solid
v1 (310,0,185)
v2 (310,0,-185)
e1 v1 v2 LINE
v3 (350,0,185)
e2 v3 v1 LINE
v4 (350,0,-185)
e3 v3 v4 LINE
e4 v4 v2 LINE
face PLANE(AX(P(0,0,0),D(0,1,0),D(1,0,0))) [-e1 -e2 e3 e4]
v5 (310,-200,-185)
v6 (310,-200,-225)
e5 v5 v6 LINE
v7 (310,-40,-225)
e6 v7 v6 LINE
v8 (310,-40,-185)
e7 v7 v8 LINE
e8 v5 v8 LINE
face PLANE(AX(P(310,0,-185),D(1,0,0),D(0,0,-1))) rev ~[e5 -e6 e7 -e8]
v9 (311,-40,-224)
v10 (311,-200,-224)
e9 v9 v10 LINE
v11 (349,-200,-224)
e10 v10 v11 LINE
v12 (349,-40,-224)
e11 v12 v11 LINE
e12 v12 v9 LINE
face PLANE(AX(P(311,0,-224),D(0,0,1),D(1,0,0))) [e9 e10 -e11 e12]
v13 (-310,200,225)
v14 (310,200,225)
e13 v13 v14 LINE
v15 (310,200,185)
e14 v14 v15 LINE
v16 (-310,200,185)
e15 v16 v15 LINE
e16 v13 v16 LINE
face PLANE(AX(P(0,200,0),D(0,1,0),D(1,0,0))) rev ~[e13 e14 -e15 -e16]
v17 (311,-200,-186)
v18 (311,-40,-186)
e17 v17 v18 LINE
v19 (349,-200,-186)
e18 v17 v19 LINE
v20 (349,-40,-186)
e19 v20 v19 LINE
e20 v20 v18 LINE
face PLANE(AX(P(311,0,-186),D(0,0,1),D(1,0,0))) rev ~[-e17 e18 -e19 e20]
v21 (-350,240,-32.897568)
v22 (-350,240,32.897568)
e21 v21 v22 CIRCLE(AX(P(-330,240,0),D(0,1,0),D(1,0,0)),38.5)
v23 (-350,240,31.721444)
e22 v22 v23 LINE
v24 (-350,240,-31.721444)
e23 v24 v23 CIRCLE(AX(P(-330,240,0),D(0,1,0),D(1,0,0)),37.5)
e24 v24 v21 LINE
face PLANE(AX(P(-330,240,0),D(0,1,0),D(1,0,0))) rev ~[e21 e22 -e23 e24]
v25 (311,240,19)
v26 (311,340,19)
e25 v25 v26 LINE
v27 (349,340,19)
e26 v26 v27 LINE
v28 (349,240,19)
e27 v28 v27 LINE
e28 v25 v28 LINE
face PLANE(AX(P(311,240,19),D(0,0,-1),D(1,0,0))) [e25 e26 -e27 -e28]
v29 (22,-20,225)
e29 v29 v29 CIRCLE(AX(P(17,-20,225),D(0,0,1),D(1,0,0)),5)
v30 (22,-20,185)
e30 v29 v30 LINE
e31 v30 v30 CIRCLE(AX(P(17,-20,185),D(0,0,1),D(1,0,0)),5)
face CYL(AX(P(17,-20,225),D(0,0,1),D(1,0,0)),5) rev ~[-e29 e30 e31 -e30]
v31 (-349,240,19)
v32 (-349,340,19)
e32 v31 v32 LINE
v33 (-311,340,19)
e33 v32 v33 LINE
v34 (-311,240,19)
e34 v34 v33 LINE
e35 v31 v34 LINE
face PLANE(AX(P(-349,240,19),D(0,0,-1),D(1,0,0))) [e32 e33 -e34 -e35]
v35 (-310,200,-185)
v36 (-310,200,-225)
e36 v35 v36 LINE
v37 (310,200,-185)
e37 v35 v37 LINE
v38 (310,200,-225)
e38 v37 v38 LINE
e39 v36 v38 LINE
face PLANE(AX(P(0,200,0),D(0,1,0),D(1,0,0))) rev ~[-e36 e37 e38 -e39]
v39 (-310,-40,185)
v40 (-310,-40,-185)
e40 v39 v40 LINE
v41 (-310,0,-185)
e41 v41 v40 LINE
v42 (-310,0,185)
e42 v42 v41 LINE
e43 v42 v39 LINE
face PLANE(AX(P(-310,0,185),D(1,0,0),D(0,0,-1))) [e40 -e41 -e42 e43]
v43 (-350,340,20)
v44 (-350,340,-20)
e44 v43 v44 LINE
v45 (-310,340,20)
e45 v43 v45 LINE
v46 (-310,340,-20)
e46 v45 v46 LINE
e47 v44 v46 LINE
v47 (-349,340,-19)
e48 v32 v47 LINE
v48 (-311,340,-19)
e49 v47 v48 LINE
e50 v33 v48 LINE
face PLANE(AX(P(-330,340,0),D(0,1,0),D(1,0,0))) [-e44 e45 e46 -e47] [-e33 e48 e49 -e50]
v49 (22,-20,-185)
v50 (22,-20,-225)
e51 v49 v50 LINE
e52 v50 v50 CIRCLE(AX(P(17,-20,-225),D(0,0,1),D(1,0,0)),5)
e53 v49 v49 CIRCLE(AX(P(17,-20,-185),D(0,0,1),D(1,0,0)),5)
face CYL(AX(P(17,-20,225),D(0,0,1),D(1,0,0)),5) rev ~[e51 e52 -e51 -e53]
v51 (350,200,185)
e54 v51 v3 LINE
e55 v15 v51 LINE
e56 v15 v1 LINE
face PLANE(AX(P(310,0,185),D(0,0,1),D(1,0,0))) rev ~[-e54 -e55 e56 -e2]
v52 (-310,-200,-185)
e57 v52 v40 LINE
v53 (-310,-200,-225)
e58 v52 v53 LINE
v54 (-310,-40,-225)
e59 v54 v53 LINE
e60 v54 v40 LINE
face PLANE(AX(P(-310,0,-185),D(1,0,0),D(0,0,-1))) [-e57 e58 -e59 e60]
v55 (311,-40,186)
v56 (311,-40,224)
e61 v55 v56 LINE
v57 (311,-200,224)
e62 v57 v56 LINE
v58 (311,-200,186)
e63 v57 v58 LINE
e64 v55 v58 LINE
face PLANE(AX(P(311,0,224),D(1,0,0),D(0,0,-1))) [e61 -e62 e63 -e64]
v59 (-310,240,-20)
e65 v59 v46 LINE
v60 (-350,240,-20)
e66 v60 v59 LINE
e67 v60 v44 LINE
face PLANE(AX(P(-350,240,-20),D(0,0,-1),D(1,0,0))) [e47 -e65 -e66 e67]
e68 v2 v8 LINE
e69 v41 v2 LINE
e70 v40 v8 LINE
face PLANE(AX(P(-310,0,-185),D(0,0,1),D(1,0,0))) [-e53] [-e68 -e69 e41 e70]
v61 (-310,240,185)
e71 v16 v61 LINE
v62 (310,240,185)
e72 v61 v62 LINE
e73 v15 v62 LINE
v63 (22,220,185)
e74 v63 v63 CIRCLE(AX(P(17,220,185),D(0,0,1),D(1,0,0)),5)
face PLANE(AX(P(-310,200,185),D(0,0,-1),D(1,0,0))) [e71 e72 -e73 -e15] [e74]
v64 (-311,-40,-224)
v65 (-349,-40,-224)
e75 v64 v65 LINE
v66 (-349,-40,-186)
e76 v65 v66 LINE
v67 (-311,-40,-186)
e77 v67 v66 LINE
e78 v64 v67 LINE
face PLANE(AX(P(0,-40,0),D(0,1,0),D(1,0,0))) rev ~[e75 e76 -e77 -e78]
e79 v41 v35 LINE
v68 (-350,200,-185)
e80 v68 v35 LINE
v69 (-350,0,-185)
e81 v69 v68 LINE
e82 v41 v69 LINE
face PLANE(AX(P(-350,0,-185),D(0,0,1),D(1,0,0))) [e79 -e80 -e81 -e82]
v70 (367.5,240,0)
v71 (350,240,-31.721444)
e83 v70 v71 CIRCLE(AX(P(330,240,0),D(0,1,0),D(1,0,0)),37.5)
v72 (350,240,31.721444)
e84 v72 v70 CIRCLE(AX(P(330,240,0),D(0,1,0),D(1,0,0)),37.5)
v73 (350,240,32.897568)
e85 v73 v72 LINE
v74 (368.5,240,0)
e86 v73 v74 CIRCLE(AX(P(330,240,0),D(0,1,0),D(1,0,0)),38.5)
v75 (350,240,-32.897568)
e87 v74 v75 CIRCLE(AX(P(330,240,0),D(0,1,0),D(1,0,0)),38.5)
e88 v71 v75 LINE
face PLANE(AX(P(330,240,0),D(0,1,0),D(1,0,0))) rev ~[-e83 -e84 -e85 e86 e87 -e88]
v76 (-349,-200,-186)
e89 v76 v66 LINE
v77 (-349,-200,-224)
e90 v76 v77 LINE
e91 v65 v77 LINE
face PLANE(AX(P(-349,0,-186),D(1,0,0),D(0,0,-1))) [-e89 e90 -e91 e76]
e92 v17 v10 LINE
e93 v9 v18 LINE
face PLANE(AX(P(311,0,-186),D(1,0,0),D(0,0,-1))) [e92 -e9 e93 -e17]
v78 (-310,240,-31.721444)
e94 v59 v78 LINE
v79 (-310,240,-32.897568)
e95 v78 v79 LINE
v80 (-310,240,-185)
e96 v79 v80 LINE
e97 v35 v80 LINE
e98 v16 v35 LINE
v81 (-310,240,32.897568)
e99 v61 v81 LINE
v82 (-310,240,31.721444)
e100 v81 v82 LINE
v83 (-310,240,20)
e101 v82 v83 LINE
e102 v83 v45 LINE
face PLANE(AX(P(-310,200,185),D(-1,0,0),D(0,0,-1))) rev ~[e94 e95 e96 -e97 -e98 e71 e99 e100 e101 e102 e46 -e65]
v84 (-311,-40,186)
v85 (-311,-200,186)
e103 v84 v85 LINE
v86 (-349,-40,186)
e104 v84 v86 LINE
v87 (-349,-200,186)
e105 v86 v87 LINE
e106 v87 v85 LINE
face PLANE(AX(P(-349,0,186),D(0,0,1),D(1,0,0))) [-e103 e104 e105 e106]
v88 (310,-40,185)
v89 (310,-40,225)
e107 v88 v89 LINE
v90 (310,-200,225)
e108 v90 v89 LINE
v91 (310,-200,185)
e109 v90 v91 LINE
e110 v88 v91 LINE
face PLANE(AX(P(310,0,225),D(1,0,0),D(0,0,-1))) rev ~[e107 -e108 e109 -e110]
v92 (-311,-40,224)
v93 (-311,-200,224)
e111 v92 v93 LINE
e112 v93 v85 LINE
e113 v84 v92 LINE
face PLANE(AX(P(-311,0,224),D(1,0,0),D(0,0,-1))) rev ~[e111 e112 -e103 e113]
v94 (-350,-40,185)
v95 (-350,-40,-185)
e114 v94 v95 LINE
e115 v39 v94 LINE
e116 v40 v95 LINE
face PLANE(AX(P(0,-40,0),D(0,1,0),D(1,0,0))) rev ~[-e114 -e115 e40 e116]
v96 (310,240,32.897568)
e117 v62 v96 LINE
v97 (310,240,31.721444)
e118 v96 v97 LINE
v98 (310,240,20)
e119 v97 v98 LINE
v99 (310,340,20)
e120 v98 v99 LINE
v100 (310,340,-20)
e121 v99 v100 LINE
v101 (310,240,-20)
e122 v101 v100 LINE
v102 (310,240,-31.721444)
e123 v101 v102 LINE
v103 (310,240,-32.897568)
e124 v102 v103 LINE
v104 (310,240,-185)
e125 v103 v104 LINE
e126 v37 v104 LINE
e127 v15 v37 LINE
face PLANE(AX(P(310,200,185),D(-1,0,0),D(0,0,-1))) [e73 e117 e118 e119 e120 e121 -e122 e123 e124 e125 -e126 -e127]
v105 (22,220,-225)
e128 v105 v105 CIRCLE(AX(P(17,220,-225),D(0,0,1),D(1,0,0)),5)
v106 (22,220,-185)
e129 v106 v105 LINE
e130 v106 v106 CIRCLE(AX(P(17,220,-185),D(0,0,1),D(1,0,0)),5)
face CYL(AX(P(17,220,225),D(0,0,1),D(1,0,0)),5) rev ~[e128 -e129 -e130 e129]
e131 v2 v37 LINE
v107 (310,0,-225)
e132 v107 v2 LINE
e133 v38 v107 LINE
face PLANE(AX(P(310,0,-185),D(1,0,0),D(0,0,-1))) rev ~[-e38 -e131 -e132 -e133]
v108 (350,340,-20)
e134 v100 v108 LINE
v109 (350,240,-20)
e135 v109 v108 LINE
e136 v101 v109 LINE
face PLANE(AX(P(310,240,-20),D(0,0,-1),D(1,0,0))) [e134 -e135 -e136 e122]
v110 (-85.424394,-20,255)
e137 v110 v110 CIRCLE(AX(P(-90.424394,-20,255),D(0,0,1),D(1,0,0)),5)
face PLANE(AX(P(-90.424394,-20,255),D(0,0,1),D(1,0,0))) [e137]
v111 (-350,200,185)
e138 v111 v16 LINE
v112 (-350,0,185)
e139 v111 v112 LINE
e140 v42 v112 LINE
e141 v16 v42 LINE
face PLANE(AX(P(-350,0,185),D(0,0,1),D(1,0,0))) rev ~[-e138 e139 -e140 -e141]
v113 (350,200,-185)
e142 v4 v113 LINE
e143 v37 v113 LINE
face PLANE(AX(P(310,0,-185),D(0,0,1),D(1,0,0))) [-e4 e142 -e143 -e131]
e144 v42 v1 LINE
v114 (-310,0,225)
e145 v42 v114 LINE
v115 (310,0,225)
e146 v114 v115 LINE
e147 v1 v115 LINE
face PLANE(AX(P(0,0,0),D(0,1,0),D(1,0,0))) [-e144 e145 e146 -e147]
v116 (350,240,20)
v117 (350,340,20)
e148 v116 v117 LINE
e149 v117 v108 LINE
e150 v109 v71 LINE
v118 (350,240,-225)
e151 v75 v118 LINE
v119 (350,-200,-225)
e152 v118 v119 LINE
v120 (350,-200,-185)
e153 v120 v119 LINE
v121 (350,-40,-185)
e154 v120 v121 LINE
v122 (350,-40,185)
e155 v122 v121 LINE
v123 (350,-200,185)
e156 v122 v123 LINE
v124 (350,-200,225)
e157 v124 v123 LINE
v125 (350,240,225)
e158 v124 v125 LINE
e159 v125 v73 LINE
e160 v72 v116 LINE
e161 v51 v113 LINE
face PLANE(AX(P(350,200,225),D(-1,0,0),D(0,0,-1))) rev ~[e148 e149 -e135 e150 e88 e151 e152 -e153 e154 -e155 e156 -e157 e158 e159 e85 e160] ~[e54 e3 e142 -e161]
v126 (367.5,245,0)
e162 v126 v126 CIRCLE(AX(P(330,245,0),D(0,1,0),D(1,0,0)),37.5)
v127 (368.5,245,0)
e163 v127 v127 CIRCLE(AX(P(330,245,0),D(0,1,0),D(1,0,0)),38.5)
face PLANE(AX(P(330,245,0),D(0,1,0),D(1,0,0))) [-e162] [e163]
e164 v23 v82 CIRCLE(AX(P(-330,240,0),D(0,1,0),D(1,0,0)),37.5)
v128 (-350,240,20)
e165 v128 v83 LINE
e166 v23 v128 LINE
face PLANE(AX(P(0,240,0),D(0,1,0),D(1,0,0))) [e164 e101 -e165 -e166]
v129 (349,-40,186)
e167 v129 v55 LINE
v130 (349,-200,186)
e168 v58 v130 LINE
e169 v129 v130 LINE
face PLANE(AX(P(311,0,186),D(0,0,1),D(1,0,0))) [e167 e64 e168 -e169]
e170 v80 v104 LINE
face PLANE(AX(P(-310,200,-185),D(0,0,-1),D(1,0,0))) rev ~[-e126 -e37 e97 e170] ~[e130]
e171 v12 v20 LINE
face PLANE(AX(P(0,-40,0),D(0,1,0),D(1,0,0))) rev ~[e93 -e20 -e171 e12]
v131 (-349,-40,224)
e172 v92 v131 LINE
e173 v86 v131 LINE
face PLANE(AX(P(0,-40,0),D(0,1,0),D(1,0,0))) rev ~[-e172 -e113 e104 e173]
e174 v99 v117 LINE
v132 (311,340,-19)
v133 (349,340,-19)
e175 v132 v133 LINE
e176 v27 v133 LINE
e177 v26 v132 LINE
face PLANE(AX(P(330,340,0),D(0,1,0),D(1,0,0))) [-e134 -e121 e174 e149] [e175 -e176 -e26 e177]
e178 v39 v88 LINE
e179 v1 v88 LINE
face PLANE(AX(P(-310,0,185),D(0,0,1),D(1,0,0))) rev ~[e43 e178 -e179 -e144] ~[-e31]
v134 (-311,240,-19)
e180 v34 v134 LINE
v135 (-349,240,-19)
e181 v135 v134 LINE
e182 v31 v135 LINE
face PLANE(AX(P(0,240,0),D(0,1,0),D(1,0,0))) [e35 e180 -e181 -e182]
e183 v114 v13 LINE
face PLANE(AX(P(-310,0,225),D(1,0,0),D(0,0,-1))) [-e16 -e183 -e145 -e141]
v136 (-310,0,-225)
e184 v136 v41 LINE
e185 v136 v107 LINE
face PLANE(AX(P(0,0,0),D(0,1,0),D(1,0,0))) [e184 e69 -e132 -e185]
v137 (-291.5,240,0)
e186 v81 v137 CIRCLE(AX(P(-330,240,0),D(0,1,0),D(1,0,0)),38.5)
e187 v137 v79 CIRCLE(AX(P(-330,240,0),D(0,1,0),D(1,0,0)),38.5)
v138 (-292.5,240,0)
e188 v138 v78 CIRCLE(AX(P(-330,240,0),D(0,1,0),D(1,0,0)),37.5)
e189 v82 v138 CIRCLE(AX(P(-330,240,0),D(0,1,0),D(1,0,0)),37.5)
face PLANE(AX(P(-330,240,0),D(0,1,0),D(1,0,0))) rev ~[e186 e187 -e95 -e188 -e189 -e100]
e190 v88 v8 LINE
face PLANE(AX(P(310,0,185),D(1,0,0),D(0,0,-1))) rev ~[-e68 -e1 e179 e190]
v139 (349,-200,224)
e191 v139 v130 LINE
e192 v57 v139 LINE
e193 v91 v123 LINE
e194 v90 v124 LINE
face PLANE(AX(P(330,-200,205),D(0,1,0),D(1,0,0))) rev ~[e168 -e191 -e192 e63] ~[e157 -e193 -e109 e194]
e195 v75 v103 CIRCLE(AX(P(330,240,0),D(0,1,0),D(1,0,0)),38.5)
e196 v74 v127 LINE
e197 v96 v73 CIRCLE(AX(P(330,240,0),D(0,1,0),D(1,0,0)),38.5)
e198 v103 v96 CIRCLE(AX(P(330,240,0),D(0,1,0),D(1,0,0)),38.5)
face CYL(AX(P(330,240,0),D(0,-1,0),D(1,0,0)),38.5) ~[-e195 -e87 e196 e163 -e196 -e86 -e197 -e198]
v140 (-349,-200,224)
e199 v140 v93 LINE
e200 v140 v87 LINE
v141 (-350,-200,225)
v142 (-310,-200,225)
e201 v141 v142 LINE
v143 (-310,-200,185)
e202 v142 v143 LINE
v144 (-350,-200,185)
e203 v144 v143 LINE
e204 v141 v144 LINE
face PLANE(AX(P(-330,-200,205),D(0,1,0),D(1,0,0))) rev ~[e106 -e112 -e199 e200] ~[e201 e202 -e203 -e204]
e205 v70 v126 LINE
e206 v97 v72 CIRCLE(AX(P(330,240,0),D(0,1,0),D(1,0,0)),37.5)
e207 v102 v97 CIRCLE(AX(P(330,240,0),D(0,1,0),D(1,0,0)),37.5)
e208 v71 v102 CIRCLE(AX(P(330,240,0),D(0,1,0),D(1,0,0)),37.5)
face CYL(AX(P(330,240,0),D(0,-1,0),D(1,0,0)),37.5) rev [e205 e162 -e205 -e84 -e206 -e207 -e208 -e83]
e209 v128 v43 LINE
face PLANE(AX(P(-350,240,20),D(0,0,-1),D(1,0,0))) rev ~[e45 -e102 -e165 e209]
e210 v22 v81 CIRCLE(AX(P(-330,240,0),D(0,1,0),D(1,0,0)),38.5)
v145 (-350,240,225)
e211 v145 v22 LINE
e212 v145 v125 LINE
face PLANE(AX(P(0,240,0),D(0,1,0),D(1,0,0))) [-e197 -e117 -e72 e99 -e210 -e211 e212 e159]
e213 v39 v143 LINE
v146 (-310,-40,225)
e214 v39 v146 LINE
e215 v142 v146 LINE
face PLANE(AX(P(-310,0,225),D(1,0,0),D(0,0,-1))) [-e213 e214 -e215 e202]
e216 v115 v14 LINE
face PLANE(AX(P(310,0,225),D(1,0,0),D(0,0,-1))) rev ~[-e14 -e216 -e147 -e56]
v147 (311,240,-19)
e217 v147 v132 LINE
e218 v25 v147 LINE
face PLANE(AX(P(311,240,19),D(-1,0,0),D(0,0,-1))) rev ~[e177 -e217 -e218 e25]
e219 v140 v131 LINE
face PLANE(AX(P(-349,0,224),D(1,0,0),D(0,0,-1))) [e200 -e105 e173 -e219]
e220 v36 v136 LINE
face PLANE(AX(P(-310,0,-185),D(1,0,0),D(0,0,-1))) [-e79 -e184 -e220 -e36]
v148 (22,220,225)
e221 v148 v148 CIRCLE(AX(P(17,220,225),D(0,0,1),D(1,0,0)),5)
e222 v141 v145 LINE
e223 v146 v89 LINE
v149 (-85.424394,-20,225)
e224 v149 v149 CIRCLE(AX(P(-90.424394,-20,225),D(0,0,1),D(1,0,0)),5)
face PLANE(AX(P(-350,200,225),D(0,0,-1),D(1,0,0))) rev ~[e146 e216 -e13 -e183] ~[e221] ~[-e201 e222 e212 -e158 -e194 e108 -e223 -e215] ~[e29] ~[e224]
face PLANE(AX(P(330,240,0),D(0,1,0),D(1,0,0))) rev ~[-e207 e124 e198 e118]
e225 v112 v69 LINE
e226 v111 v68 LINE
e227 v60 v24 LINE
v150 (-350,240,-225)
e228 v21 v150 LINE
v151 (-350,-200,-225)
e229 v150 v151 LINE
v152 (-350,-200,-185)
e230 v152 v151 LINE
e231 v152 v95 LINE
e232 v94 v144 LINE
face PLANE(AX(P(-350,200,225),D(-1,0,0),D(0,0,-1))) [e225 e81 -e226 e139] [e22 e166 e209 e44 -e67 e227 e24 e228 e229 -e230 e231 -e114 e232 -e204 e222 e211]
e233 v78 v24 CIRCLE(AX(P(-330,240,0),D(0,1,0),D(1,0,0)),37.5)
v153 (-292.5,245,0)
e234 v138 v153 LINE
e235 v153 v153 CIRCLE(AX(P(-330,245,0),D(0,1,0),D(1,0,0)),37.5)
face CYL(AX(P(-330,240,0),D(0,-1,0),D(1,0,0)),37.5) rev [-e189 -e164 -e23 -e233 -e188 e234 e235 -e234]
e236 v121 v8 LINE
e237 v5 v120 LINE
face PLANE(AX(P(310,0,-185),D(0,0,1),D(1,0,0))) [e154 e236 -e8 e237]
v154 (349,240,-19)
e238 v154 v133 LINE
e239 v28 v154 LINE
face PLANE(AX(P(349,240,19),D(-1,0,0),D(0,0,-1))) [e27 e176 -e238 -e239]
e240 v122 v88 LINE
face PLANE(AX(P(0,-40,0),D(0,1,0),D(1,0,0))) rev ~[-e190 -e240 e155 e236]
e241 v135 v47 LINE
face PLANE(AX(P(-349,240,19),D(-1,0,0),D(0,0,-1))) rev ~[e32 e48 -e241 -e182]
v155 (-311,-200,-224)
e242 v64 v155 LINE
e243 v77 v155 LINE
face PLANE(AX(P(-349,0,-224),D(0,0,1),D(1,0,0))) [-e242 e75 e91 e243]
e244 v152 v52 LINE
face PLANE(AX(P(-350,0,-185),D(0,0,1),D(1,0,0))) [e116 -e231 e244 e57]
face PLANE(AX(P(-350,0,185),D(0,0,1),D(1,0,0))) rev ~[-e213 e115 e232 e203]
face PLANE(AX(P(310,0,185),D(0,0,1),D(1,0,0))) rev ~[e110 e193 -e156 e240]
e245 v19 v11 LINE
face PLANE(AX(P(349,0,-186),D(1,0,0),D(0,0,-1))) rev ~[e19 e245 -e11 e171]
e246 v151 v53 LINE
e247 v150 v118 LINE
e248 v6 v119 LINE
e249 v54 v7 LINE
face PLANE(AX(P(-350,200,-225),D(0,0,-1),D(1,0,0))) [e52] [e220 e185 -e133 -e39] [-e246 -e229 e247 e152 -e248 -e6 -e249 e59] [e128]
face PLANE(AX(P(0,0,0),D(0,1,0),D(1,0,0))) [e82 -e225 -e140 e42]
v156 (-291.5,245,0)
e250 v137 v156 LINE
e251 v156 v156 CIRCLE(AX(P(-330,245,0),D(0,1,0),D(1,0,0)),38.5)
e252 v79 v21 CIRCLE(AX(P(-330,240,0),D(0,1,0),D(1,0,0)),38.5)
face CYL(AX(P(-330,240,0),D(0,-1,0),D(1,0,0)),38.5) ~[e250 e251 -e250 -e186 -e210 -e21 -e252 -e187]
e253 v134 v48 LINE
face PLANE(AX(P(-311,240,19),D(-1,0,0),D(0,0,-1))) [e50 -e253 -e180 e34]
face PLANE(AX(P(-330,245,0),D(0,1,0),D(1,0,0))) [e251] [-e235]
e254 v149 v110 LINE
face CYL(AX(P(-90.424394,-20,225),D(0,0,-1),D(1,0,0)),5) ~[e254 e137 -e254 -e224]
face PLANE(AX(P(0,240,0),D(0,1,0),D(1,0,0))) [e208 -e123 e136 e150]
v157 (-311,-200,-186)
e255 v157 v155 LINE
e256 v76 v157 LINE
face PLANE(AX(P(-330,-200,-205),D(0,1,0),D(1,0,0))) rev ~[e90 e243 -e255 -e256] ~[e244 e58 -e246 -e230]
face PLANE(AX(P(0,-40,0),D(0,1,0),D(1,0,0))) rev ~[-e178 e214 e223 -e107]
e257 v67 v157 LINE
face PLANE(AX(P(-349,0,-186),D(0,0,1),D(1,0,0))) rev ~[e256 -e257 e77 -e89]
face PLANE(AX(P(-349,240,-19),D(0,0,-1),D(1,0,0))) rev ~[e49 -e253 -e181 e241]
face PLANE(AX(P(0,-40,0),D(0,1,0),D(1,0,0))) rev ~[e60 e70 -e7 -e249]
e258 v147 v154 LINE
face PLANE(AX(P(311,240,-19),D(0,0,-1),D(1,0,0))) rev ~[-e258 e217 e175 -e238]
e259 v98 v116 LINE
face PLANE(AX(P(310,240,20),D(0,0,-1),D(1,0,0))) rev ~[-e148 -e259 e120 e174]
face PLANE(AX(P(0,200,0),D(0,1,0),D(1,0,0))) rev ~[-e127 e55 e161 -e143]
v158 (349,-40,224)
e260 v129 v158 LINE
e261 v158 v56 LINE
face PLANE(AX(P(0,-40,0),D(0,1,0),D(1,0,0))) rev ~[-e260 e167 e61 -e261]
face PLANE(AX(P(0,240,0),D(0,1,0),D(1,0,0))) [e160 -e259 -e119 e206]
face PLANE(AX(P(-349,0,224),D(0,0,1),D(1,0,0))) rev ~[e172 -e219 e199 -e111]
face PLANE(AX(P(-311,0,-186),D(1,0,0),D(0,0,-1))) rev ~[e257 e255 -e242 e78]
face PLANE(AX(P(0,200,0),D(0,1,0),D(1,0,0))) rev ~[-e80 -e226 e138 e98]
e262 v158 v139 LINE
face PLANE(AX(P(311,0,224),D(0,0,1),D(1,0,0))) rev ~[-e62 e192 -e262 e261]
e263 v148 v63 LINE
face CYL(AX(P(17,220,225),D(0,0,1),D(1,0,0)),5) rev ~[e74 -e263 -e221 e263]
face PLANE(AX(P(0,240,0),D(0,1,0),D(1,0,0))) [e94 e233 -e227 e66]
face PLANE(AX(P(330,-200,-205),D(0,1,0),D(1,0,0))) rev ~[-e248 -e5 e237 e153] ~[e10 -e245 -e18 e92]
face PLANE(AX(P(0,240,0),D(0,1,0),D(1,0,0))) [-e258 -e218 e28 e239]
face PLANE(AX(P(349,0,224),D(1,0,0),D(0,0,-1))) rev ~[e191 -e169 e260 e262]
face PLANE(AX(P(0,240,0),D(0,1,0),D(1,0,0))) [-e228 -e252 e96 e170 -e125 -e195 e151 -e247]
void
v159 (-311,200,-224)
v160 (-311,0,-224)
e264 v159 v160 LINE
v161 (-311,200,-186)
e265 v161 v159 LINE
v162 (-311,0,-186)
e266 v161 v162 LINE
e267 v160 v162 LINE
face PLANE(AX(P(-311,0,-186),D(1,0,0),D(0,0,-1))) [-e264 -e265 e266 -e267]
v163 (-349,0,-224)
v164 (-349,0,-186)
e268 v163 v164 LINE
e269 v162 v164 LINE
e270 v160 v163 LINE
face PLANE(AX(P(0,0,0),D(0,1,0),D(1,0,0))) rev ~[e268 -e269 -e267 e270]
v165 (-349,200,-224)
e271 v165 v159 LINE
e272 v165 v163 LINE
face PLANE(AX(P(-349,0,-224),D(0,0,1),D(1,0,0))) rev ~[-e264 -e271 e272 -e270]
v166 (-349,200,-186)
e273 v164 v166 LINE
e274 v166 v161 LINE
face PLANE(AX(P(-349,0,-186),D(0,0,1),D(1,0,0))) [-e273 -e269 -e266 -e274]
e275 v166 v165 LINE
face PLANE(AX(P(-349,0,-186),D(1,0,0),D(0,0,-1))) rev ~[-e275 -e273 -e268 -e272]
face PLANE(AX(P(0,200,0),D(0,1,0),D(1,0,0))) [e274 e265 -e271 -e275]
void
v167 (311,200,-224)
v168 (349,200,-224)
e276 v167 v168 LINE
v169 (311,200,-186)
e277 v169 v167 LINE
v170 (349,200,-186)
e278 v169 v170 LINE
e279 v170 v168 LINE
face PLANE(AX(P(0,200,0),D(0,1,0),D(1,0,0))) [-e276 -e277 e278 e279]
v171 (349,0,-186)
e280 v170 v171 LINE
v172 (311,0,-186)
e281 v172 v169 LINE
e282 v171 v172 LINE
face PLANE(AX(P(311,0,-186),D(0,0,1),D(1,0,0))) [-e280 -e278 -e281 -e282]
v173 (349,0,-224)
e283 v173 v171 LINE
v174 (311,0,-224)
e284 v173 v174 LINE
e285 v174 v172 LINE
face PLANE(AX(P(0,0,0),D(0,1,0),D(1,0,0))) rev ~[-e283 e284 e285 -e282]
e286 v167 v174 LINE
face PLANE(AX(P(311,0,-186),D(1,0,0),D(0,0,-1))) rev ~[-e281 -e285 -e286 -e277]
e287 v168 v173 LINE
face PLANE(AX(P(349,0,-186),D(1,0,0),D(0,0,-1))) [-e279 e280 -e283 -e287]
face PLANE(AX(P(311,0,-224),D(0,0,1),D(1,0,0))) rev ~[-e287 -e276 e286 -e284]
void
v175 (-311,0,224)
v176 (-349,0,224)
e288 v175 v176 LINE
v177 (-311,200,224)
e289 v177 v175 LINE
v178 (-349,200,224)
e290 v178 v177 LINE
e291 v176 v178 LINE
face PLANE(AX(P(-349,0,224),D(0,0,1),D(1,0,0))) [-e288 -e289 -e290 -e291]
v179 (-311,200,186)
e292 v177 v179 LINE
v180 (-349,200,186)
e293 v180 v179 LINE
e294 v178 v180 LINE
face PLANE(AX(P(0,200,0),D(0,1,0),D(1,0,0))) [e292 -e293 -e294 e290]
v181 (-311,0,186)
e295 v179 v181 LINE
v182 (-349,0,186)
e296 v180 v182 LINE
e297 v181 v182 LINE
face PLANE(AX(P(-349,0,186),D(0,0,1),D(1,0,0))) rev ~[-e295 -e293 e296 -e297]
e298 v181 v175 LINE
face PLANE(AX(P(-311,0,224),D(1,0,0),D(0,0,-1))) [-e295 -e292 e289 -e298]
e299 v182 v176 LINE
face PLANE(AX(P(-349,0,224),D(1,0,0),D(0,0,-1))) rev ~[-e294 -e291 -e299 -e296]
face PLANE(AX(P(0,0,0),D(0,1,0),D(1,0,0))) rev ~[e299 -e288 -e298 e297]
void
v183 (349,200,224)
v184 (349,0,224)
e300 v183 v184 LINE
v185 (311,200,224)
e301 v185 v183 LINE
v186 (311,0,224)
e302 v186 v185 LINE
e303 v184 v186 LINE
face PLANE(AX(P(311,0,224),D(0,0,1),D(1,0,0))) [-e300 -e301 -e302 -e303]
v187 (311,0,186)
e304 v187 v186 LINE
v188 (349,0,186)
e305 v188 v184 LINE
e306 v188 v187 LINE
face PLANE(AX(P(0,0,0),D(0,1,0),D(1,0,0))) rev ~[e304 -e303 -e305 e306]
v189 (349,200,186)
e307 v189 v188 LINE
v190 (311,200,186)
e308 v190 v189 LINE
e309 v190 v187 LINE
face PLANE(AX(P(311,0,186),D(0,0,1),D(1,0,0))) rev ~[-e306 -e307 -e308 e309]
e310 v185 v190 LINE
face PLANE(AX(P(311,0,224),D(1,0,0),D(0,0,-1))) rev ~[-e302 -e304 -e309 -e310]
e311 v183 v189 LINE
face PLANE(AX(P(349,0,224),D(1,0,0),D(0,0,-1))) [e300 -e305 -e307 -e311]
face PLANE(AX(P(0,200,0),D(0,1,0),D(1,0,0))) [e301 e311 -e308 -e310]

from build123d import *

# Parameters (mm, degrees)
SKETCH1_W             = 40
SKETCH1_H             = 40
SKETCH1_W_2           = 38
SKETCH1_H_2           = 38
BOSS_EXTRUDE1_DEPTH   = 200
BOSS_EXTRUDE1_2_DEPTH = 200
BOSS_EXTRUDE1_3_DEPTH = 200
BOSS_EXTRUDE1_4_DEPTH = 200
SKETCH2_W             = 700
SKETCH2_H             = 450
SKETCH2_W_2           = 620
SKETCH2_H_2           = 370
BOSS_EXTRUDE2_DEPTH   = 40
SKETCH3_W             = 40
SKETCH3_H             = 40
SKETCH3_W_2           = 38
SKETCH3_H_2           = 38
BOSS_EXTRUDE4_DEPTH   = 100
SKETCH4_R             = 5
CUT_EXTRUDE1_DEPTH    = 465
SKETCH5_W             = 700
SKETCH5_H             = 450
SKETCH5_W_2           = 620
SKETCH5_H_2           = 370
BOSS_EXTRUDE5_DEPTH   = 40
SKETCH6_R             = 5
CUT_EXTRUDE2_DEPTH    = 508
SKETCH7_R             = 38.5
SKETCH7_R_2           = 37.5
BOSS_EXTRUDE6_DEPTH   = 5
SKETCH8_R             = 5
BOSS_EXTRUDE7_DEPTH   = 30


with BuildPart() as part:
    # Sketch1 → Boss-Extrude1 (new body, symmetric)
    with BuildSketch(Plane(origin=(0, 0, 0), x_dir=(1, 0, 0), z_dir=(0, 1, 0))):
        with Locations((-330, 205)):
            Rectangle(SKETCH1_W, SKETCH1_H)
        with Locations((-330, 205)):
            Rectangle(SKETCH1_W_2, SKETCH1_H_2, mode=Mode.SUBTRACT)
    extrude(amount=BOSS_EXTRUDE1_DEPTH, both=True)



with BuildPart() as body_2:
    # Sketch1 → Boss-Extrude1 2 (new body, symmetric)
    with BuildSketch(Plane(origin=(0, 0, 0), x_dir=(1, 0, 0), z_dir=(0, 1, 0))):
        with Locations((330, 205)):
            Rectangle(SKETCH1_W, SKETCH1_H)
        with Locations((330, 205)):
            Rectangle(SKETCH1_W_2, SKETCH1_H_2, mode=Mode.SUBTRACT)
    extrude(amount=BOSS_EXTRUDE1_2_DEPTH, both=True)


with BuildPart() as body_3:
    # Sketch1 → Boss-Extrude1 3 (new body, symmetric)
    with BuildSketch(Plane(origin=(0, 0, 0), x_dir=(1, 0, 0), z_dir=(0, 1, 0))):
        with Locations((330, -205)):
            Rectangle(SKETCH1_W, SKETCH1_H)
        with Locations((330, -205)):
            Rectangle(SKETCH1_W_2, SKETCH1_H_2, mode=Mode.SUBTRACT)
    extrude(amount=BOSS_EXTRUDE1_3_DEPTH, both=True)


with BuildPart() as body_4:
    # Sketch1 → Boss-Extrude1 4 (new body, symmetric)
    with BuildSketch(Plane(origin=(0, 0, 0), x_dir=(1, 0, 0), z_dir=(0, 1, 0))):
        with Locations((-330, -205)):
            Rectangle(SKETCH1_W, SKETCH1_H)
        with Locations((-330, -205)):
            Rectangle(SKETCH1_W_2, SKETCH1_H_2, mode=Mode.SUBTRACT)
    extrude(amount=BOSS_EXTRUDE1_4_DEPTH, both=True)


with BuildPart() as part_1:
    add(part.part)

    add(body_2.part)  # Boss-Extrude2 merges body 2

    add(body_3.part)  # Boss-Extrude2 merges body 3

    add(body_4.part)  # Boss-Extrude2 merges body 4
    # Sketch2 → Boss-Extrude2 (add)
    with BuildSketch(Plane(origin=(0, 200, 0), x_dir=(1, 0, 0), z_dir=(0, 1, 0))):
        Rectangle(SKETCH2_W, SKETCH2_H)
        Rectangle(SKETCH2_W_2, SKETCH2_H_2, mode=Mode.SUBTRACT)
    extrude(amount=BOSS_EXTRUDE2_DEPTH)

    # Sketch3 → Boss-Extrude4 (add)
    with BuildSketch(Plane(origin=(0, 240, 0), x_dir=(1, 0, 0), z_dir=(0, 1, 0))):
        with Locations((-330, 0)):
            Rectangle(SKETCH3_W, SKETCH3_H)
        with Locations((-330, 0)):
            Rectangle(SKETCH3_W_2, SKETCH3_H_2, mode=Mode.SUBTRACT)
        with Locations((330, 0)):
            Rectangle(SKETCH3_W, SKETCH3_H)
        with Locations((330, 0)):
            Rectangle(SKETCH3_W_2, SKETCH3_H_2, mode=Mode.SUBTRACT)
    extrude(amount=BOSS_EXTRUDE4_DEPTH)

    # Sketch4 → Cut-Extrude1 (cut)
    with BuildSketch(Plane.XY.offset(225)):
        with Locations((17, 220)):
            Circle(SKETCH4_R)
    extrude(amount=-CUT_EXTRUDE1_DEPTH, mode=Mode.SUBTRACT)

    # Sketch5 → Boss-Extrude5 (add)
    with BuildSketch(Plane(origin=(0, 0, 0), x_dir=(1, 0, 0), z_dir=(0, 1, 0))):
        Rectangle(SKETCH5_W, SKETCH5_H)
        Rectangle(SKETCH5_W_2, SKETCH5_H_2, mode=Mode.SUBTRACT)
    extrude(amount=-BOSS_EXTRUDE5_DEPTH)

    # Sketch6 → Cut-Extrude2 (cut)
    with BuildSketch(Plane.XY.offset(225)):
        with Locations((17, -20)):
            Circle(SKETCH6_R)
    extrude(amount=-CUT_EXTRUDE2_DEPTH, mode=Mode.SUBTRACT)

    # Sketch7 → Boss-Extrude6 (add)
    with BuildSketch(Plane(origin=(0, 240, 0), x_dir=(1, 0, 0), z_dir=(0, 1, 0))):
        with Locations((-330, 0)):
            Circle(SKETCH7_R)
        with Locations((-330, 0)):
            Circle(SKETCH7_R_2, mode=Mode.SUBTRACT)
        with Locations((330, 0)):
            Circle(SKETCH7_R)
        with Locations((330, 0)):
            Circle(SKETCH7_R_2, mode=Mode.SUBTRACT)
    extrude(amount=BOSS_EXTRUDE6_DEPTH)

    # Sketch8 → Boss-Extrude7 (add)
    with BuildSketch(Plane.XY.offset(225)):
        with Locations((-90.424393733, -20)):
            Circle(SKETCH8_R)
    extrude(amount=BOSS_EXTRUDE7_DEPTH)


solid = part_1.part
